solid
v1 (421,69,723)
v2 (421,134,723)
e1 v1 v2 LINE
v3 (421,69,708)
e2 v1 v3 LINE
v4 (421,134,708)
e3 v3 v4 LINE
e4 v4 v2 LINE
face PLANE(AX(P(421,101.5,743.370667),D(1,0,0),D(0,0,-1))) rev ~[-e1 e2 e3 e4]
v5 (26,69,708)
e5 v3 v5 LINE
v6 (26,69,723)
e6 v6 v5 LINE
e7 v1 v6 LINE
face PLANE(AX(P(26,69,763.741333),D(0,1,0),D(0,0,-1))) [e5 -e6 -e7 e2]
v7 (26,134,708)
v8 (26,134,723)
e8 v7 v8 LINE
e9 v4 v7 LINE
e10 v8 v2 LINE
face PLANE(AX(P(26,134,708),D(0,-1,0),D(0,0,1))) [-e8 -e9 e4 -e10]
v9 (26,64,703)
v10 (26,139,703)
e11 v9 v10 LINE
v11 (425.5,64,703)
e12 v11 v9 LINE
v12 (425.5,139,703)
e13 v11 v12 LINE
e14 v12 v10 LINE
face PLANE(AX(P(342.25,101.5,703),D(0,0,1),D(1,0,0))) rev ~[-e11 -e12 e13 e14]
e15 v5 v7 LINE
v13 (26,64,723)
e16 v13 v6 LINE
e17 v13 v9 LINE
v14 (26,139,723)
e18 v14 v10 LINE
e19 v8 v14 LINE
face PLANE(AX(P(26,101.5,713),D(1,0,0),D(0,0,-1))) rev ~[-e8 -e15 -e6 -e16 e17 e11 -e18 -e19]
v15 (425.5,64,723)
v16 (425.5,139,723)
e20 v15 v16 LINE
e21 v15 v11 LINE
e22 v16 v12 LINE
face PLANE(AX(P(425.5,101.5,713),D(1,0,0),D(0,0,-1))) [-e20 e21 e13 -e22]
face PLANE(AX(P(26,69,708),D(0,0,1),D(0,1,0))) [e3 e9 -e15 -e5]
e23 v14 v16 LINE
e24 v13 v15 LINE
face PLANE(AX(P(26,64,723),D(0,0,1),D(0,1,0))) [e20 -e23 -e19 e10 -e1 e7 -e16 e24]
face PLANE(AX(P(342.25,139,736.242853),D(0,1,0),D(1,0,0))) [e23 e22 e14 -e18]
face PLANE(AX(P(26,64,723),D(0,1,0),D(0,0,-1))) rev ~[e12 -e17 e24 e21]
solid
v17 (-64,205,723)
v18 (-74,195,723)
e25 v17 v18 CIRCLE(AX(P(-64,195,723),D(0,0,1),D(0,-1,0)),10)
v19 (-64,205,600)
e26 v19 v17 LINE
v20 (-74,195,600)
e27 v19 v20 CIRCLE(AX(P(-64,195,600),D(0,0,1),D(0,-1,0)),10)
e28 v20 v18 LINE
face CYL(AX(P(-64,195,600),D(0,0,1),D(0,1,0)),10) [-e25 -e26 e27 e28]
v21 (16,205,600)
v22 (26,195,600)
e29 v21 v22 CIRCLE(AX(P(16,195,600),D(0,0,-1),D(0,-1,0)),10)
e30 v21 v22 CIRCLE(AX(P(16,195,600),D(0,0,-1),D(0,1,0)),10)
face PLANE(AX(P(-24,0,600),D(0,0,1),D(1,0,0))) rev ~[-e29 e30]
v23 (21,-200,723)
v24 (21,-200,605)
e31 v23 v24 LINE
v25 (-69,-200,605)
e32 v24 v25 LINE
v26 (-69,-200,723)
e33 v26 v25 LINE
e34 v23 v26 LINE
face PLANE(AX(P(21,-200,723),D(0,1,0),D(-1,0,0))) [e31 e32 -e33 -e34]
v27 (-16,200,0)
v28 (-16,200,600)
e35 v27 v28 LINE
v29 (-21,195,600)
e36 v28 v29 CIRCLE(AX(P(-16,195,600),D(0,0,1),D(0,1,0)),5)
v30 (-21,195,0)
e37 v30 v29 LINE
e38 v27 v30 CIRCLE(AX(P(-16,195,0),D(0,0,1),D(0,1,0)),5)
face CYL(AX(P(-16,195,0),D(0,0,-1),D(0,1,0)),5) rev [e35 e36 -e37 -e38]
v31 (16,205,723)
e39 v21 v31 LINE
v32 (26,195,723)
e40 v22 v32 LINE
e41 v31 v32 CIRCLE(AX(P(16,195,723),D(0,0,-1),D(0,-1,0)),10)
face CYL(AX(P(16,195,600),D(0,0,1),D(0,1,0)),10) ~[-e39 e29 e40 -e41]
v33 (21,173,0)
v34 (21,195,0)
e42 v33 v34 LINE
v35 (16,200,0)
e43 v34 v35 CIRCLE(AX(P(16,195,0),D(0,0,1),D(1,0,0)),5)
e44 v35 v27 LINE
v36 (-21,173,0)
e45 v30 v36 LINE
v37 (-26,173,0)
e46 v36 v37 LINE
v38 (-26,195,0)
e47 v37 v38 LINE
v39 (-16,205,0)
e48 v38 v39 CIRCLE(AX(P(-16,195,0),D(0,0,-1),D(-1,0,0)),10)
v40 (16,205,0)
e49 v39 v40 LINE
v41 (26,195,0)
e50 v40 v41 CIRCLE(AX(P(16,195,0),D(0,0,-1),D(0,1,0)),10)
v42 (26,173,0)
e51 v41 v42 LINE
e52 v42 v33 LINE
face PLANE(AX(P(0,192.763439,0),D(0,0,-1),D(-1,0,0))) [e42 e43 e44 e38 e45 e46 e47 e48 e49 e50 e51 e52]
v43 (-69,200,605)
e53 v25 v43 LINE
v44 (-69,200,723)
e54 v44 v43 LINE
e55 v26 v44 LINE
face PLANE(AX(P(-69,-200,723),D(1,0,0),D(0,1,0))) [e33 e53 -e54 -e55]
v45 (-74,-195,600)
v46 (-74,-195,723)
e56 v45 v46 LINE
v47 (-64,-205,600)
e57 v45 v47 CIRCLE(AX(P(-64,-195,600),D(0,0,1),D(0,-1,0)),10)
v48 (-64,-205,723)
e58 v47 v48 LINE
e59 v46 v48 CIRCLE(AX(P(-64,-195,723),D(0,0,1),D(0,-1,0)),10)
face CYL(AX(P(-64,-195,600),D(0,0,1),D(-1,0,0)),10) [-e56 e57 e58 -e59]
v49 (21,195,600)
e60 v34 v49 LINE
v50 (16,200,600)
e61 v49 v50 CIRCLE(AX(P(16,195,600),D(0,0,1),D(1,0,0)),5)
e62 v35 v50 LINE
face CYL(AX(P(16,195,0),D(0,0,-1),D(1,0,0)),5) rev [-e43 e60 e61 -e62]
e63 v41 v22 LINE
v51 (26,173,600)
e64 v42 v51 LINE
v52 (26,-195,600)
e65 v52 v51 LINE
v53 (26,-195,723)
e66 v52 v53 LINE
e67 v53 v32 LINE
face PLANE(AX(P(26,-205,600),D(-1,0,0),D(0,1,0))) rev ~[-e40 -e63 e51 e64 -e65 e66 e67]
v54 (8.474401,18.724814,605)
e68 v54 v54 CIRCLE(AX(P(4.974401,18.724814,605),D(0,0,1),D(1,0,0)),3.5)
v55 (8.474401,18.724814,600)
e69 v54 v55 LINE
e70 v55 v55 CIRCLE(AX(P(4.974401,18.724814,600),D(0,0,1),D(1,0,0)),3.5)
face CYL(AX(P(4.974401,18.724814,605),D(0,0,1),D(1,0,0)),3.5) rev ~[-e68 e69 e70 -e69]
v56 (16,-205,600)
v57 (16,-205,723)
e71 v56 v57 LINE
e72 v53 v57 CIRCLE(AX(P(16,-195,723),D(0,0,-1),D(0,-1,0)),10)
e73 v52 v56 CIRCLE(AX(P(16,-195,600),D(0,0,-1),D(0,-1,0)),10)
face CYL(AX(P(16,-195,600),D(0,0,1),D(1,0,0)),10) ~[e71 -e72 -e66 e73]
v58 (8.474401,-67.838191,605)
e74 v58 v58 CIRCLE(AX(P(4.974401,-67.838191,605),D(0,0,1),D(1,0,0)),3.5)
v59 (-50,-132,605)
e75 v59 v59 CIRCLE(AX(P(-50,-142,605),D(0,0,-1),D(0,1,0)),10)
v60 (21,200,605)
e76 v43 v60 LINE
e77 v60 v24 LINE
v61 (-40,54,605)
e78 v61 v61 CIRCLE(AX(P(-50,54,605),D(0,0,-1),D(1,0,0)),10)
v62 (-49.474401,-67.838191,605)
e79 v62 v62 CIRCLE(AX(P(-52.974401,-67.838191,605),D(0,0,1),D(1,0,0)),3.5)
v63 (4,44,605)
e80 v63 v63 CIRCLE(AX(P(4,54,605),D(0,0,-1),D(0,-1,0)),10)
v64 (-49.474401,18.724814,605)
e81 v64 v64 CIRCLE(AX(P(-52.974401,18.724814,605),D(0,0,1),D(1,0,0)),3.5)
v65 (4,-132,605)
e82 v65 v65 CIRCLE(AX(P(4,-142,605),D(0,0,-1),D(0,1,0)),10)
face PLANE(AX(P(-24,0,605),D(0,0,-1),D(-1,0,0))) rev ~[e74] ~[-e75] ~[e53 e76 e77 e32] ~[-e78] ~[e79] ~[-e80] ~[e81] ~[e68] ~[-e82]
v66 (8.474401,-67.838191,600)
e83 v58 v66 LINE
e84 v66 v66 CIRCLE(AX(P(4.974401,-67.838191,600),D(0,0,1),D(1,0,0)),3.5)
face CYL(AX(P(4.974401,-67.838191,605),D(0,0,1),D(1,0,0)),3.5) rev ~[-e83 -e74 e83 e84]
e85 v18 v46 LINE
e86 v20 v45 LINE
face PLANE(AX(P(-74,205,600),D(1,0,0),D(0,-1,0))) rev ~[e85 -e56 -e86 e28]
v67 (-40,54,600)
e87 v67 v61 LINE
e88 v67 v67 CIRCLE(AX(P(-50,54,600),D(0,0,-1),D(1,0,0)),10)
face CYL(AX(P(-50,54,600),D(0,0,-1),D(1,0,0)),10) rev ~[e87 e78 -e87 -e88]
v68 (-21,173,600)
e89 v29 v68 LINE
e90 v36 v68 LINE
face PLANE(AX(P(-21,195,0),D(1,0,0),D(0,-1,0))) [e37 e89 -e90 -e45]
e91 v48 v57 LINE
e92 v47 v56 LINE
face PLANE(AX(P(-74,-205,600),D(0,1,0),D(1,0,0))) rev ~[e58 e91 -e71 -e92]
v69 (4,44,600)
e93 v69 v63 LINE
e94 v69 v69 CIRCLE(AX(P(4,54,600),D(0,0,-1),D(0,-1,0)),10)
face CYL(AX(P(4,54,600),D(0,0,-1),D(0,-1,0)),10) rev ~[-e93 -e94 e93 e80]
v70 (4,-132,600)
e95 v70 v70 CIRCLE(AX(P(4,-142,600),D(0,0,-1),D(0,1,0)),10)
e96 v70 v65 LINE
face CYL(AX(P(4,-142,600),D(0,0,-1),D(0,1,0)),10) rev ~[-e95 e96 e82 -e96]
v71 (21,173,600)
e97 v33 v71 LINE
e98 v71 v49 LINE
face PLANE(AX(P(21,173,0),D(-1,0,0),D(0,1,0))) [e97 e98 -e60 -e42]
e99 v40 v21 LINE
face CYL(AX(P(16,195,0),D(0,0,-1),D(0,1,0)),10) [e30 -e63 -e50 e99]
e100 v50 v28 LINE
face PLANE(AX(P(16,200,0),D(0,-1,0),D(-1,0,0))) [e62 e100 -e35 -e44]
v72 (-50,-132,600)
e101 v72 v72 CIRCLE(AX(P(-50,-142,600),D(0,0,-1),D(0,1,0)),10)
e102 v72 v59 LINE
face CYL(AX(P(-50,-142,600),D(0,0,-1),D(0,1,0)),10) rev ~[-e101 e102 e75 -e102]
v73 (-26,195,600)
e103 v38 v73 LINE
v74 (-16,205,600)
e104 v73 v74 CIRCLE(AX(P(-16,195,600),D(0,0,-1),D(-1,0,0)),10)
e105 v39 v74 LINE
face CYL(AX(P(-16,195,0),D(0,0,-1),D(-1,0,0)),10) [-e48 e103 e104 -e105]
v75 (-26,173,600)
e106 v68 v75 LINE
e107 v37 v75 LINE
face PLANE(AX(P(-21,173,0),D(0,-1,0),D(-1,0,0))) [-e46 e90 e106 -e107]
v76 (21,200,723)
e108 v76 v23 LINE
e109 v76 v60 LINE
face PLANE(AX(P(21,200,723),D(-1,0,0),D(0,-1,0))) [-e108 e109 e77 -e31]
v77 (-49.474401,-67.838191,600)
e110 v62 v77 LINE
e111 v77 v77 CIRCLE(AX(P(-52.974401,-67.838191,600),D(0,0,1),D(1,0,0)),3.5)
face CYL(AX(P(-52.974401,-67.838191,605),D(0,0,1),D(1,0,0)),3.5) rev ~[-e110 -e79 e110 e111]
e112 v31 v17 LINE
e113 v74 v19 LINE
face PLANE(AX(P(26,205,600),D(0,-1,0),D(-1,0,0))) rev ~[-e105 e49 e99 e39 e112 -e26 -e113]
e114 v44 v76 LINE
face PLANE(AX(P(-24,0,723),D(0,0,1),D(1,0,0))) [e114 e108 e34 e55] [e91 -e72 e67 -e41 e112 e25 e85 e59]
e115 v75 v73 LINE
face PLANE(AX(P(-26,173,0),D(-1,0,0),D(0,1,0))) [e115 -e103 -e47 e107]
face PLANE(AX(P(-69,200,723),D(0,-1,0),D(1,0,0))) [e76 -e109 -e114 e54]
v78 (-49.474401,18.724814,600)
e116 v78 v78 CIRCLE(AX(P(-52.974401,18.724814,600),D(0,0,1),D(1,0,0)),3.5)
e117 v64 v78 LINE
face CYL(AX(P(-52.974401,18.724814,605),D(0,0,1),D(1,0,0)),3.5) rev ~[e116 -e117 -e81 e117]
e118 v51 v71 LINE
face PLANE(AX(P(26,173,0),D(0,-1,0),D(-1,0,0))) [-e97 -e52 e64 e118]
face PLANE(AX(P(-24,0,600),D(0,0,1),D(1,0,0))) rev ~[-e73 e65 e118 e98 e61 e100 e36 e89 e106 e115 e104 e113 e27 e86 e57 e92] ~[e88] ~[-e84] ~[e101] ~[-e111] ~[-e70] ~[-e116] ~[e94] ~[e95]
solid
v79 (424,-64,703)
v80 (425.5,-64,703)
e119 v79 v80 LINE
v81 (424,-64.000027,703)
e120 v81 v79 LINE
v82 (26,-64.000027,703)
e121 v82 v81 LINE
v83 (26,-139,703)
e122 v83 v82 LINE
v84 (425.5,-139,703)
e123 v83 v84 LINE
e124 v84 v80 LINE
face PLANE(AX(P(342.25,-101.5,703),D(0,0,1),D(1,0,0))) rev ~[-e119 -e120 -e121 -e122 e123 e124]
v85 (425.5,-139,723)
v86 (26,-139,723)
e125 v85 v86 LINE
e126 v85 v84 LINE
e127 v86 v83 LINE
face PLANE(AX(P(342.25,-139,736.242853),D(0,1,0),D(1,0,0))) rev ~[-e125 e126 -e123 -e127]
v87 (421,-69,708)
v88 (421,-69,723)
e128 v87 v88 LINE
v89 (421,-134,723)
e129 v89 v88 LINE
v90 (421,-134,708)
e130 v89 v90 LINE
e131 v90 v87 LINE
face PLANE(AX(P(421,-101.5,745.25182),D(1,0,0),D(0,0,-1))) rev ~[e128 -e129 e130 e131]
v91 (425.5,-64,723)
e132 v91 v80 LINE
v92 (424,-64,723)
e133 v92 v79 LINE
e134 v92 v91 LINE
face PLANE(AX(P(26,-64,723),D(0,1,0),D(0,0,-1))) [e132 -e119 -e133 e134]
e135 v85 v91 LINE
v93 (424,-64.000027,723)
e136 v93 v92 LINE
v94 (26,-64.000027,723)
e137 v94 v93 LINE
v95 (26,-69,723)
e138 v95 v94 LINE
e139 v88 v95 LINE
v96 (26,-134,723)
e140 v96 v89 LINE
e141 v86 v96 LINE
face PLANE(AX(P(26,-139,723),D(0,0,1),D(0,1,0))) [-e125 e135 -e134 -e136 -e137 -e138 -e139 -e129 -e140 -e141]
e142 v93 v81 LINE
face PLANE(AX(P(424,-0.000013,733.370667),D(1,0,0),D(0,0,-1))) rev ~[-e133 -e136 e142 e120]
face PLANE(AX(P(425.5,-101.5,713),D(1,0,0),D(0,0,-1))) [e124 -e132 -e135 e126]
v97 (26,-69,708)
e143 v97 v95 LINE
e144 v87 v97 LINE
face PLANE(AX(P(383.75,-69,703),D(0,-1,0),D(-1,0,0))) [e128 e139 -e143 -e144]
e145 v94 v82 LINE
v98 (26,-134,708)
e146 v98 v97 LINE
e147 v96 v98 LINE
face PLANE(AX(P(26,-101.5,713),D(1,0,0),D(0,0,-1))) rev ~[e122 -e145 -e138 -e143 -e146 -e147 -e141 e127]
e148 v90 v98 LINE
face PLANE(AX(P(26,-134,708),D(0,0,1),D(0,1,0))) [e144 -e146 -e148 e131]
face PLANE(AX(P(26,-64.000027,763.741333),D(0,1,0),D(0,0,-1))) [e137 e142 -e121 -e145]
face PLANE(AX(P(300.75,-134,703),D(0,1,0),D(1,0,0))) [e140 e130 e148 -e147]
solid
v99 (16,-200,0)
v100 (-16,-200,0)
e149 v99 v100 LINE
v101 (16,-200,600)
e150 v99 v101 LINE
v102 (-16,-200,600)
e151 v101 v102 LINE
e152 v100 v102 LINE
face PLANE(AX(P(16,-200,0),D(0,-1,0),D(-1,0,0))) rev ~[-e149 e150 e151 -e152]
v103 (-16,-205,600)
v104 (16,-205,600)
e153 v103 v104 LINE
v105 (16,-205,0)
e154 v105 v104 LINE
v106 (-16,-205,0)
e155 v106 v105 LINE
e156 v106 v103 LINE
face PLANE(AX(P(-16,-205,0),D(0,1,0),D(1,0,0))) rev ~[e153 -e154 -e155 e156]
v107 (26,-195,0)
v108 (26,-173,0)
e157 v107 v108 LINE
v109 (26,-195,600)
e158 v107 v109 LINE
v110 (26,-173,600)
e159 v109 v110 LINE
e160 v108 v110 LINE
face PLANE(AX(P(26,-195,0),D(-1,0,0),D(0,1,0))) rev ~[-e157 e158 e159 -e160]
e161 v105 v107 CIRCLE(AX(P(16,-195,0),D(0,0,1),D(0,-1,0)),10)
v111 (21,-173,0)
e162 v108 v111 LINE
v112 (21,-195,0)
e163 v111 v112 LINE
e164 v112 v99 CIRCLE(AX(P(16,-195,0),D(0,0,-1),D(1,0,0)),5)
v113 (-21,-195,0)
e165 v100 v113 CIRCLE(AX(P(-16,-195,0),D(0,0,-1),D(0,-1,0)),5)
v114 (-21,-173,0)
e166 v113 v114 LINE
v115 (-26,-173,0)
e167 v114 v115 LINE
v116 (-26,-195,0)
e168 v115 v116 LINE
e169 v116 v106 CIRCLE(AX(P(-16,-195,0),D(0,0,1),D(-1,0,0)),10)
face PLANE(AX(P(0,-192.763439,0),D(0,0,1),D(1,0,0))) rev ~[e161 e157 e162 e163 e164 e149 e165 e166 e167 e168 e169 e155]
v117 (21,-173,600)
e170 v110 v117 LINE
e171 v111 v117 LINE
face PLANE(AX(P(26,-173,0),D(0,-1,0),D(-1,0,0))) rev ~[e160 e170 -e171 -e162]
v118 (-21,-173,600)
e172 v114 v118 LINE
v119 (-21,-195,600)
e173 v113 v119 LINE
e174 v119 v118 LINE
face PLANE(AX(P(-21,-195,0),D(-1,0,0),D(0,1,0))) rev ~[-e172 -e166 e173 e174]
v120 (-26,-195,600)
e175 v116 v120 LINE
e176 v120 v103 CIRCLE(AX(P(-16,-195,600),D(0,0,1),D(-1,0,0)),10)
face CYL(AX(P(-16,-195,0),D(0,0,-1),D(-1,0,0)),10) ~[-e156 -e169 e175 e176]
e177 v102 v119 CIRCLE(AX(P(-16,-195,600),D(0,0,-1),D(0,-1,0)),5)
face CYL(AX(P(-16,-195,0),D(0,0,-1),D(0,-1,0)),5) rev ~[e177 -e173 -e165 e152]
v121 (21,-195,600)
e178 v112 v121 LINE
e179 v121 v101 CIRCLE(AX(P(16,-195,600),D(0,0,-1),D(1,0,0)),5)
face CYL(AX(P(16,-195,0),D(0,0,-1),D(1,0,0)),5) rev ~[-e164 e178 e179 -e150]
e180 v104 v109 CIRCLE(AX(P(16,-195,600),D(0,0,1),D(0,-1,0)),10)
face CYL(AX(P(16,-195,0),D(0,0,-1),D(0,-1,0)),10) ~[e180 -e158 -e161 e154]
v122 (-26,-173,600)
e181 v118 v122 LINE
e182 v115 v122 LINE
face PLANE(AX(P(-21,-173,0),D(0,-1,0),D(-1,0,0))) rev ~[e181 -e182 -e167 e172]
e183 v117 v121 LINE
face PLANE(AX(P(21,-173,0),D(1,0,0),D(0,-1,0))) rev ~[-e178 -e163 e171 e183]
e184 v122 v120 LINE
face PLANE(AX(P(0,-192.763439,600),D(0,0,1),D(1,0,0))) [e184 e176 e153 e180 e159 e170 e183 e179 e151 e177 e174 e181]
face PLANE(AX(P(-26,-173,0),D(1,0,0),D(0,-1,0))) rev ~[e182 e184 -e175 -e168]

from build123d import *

# Parameters (mm, degrees)
BOSS_EXTRUDE1_DEPTH      = 600
BOSS_EXTRUDE1_2_DEPTH    = 600
BOSS_EXTRUDE2_DEPTH      = 123.00000000000001
SKETCH44_W               = 20
SKETCH44_H               = 75
BOSS_EXTRUDE16_DEPTH     = 399.5
BOSS_EXTRUDE16_2_DEPTH   = 399.5
BOSS_EXTRUDE17_DEPTH     = 278
CUT_EXTRUDE19_DEPTH      = 123
CUT_EXTRUDE20_DEPTH      = 118.00000000000001
SKETCH47_R               = 10.000000000000037
CUT_EXTRUDE21_DEPTH      = 278.00000000000006
SKETCH54_W               = 15
SKETCH54_H               = 65.00000000000001
SKETCH54_W_2             = 40.741333101316854
SKETCH54_H_2             = 65
CUT_EXTRUDE22_DEPTH      = 395.00000000000006
CUT_EXTRUDE25_DEPTH      = 72.00000000000004
CUT_EXTRUDE31_DEPTH      = 398.0000000000001
FILLET3_R                = 10
SKETCH56_R               = 3.500000000000001
SKETCH56_R_2             = 3.4999999999999996
CUT_EXTRUDE32_DEPTH      = 5
CUT_EXTRUDE33_DEPTH      = 940.5142755101579
CUT_EXTRUDE33_DEPTH_BACK = 940.5142755101579
BOSS_EXTRUDE18_DEPTH     = 5


with BuildPart() as part:
    # Sketch1 → Boss-Extrude1 (new body)
    with BuildSketch(Plane.XY):
        with BuildLine():
            Line((-20.999999999999996, 173.00000000000003), (-26.000000000000014, 173.00000000000003))
            Line((-26.000000000000014, 173.00000000000003), (-26.00000000000001, 195))
            ThreePointArc((-26.00000000000001, 195), (-23.071067811865483, 202.07106781186548), (-16.00000000000001, 205.00000000000003))
            Line((-16.00000000000001, 205.00000000000003), (15.999999999999996, 205.00000000000003))
            ThreePointArc((15.999999999999996, 205.00000000000003), (23.071067811865476, 202.07106781186548), (26.000000000000004, 195))
            Line((26.000000000000004, 195), (26.000000000000007, 173.00000000000003))
            Line((26.000000000000007, 173.00000000000003), (20.999999999999996, 173.00000000000003))
            Line((20.999999999999996, 173.00000000000003), (20.999999999999996, 195))
            ThreePointArc((20.999999999999996, 195), (19.535533905932738, 198.53553390593274), (16, 200))
            Line((16, 200), (-16, 200))
            ThreePointArc((-16, 200), (-19.535533905932738, 198.53553390593274), (-20.999999999999996, 195))
            Line((-20.999999999999996, 195), (-20.999999999999996, 173.00000000000003))
        make_face()
    extrude(amount=BOSS_EXTRUDE1_DEPTH)

    # Sketch2 → Boss-Extrude2 (add)
    with BuildSketch(Plane.XY.offset(600)):
        Polygon((26.000000000000004, 205.00000000000003), (-74.00000000000001, 205.00000000000003), (-73.99999999999996, -205.00000000000003), (26.000000000000053, -205.00000000000003), align=None)
    extrude(amount=BOSS_EXTRUDE2_DEPTH)

    # Sketch37 → Cut-Extrude19 (cut)
    with BuildSketch(Plane(origin=(0, 0, 600), x_dir=(-1, 0, 0), z_dir=(0, 0, -1))):
        with BuildLine():
            ThreePointArc((59.99999999999997, -142), (57.071067811865426, -134.9289321881345), (49.999999999999915, -132))
            Line((49.99999999999997, -132), (49.99999999999997, -142))
            Line((49.99999999999997, -142), (39.99999999999997, -142))
            ThreePointArc((39.99999999999997, -142), (49.99999999999997, -152), (59.99999999999997, -142))
        make_face()
        with BuildLine():
            Line((49.99999999999997, -142), (49.99999999999997, -132))
            ThreePointArc((49.999999999999915, -132), (42.928932188134475, -134.92893218813455), (39.99999999999997, -142))
            Line((39.99999999999997, -142), (49.99999999999997, -142))
        make_face()
        with BuildLine():
            ThreePointArc((5.999999999999988, -142), (3.0710678118654364, -134.9289321881345), (-4.00000000000009, -131.99999999999997))
            Line((-4.000000000000029, -131.99999999999997), (-4.000000000000028, -142))
            Line((-4.000000000000028, -142), (5.999999999999988, -142))
        make_face()
        with BuildLine():
            Line((-4.000000000000028, -142), (-4.000000000000029, -131.99999999999997))
            ThreePointArc((-4.00000000000009, -131.99999999999997), (-11.071067811865493, -149.0710678118655), (5.999999999999988, -142))
            Line((5.999999999999988, -142), (-4.000000000000028, -142))
        make_face()
        with BuildLine():
            ThreePointArc((59.99999999999996, 54.00000000000002), (49.99999999999996, 64.00000000000003), (39.99999999999996, 54.00000000000002))
            Line((39.99999999999996, 54.00000000000002), (49.99999999999996, 54.00000000000002))
            Line((49.99999999999996, 54.00000000000002), (49.99999999999996, 44.00000000000002))
            ThreePointArc((49.9999999999999, 44.00000000000002), (57.07106781186541, 46.928932188134524), (59.99999999999996, 54.00000000000002))
        make_face()
        with BuildLine():
            Line((49.99999999999996, 54.00000000000002), (39.99999999999996, 54.00000000000002))
            ThreePointArc((39.99999999999996, 54.00000000000002), (42.92893218813446, 46.92893218813457), (49.9999999999999, 44.00000000000002))
            Line((49.99999999999996, 44.00000000000002), (49.99999999999996, 54.00000000000002))
        make_face()
        with BuildLine():
            Line((-4.0000000000000515, 44.00000000000001), (-4.000000000000052, 54.00000000000002))
            Line((-4.000000000000052, 54.00000000000002), (5.999999999999964, 54.00000000000002))
            ThreePointArc((5.999999999999964, 54.00000000000002), (-11.071067811865518, 61.071067811865525), (-4.0000000000001075, 44.00000000000001))
        make_face()
        with BuildLine():
            Line((5.999999999999964, 54.00000000000002), (-4.000000000000052, 54.00000000000002))
            Line((-4.000000000000052, 54.00000000000002), (-4.0000000000000515, 44.00000000000001))
            ThreePointArc((-4.0000000000001075, 44.00000000000001), (3.0710678118654133, 46.92893218813452), (5.999999999999964, 54.00000000000002))
        make_face()
    extrude(amount=-CUT_EXTRUDE19_DEPTH, mode=Mode.SUBTRACT)

    # Sketch43 → Cut-Extrude20 (cut)
    with BuildSketch(Plane.XY.offset(723)):
        Polygon((-69, 200), (21.00000000000015, 200), (21.0000000000002, -200), (-68.99999999999994, -200), align=None)
    extrude(amount=-CUT_EXTRUDE20_DEPTH, mode=Mode.SUBTRACT)

    # Fillet3
    fillet3_edges = [part.edges().sort_by_distance(p)[0] for p in [
        (26.000000000000053, -205.00000000000003, 661.5),
        (26.000000000000004, 205.00000000000003, 661.5),
        (-74.00000000000001, 205.00000000000003, 661.5),
        (-73.99999999999996, -205.00000000000003, 661.5),
    ]]
    fillet(fillet3_edges, radius=FILLET3_R)

    # Sketch56 → Cut-Extrude32 (cut)
    with BuildSketch(Plane.XY.offset(605)):
        with Locations((-52.97440145114139, 18.72481387938563)):
            Circle(SKETCH56_R)
        with Locations((4.974401451080079, 18.72481387938569)):
            Circle(SKETCH56_R_2)
        with Locations((-52.97440145114128, -67.83819138977199)):
            Circle(SKETCH56_R)
        with Locations((4.974401451080149, -67.83819138977194)):
            Circle(SKETCH56_R)
    extrude(amount=-CUT_EXTRUDE32_DEPTH, mode=Mode.SUBTRACT)


with BuildPart() as body_2:
    # Sketch1 → Boss-Extrude1 2 (new body)
    with BuildSketch(Plane.XY):
        with BuildLine():
            Line((26.000000000000004, -195), (26.000000000000007, -173.00000000000003))
            Line((26.000000000000007, -173.00000000000003), (20.999999999999996, -173.00000000000003))
            Line((20.999999999999996, -173.00000000000003), (20.999999999999996, -195))
            ThreePointArc((20.999999999999996, -195), (19.535533905932738, -198.53553390593274), (16, -200))
            Line((16, -200), (-16, -200))
            ThreePointArc((-16, -200), (-19.53553390593274, -198.53553390593274), (-20.999999999999996, -195))
            Line((-20.999999999999996, -195), (-20.999999999999996, -173.00000000000003))
            Line((-20.999999999999996, -173.00000000000003), (-26.000000000000014, -173.00000000000003))
            Line((-26.000000000000014, -173.00000000000003), (-26.00000000000001, -195))
            ThreePointArc((-26.00000000000001, -195), (-23.071067811865486, -202.07106781186548), (-16.00000000000001, -205.00000000000003))
            Line((-16.00000000000001, -205.00000000000003), (15.999999999999996, -205.00000000000003))
            ThreePointArc((15.999999999999996, -205.00000000000003), (23.071067811865476, -202.07106781186548), (26.000000000000004, -195))
        make_face()
    extrude(amount=BOSS_EXTRUDE1_2_DEPTH)


with BuildPart() as body_3:
    # Sketch44 → Boss-Extrude16 (new body)
    with BuildSketch(Plane(origin=(26.000000000000032, 4.1e-15, 0), x_dir=(0, 0, -1), z_dir=(1, 0, 0))):
        with Locations((-713, -101.5)):
            Rectangle(SKETCH44_W, SKETCH44_H)
    extrude(amount=BOSS_EXTRUDE16_DEPTH)



with BuildPart() as body_4:
    # Sketch44 → Boss-Extrude16 2 (new body)
    with BuildSketch(Plane(origin=(26.000000000000032, 4.1e-15, 0), x_dir=(0, 0, -1), z_dir=(1, 0, 0))):
        with Locations((-713, 101.5)):
            Rectangle(SKETCH44_W, SKETCH44_H)
    extrude(amount=BOSS_EXTRUDE16_2_DEPTH)


with BuildPart() as body_3_1:
    add(body_3.part)

    add(body_4.part)  # Boss-Extrude17 merges body 4
    # Sketch45 → Boss-Extrude17 (add)
    with BuildSketch(Plane(origin=(0, 139, 0), x_dir=(1, 0, 0), z_dir=(0, 1, 0))):
        with BuildLine():
            Line((310.05762353332216, -763.741333101317), (374.4423764666778, -763.741333101317))
            ThreePointArc((374.4423764666778, -763.741333101317), (380.77084556976007, -729.2229662434094), (357.44868415357087, -703.0000000000001))
            Line((357.44868415357087, -703.0000000000001), (327.05131584642913, -703.0000000000001))
            ThreePointArc((327.05131584642913, -703.0000000000001), (303.72915443024, -729.2229662434092), (310.05762353332216, -763.741333101317))
        make_face()
    extrude(amount=-BOSS_EXTRUDE17_DEPTH)

    # Sketch47 → Cut-Extrude21 (cut)
    with BuildSketch(Plane(origin=(0, 139, 0), x_dir=(1, 0, 0), z_dir=(0, 1, 0))):
        with Locations(Location((342.25, -740, 0), (0, 0, 270))):
            Circle(SKETCH47_R)
    extrude(amount=-CUT_EXTRUDE21_DEPTH, mode=Mode.SUBTRACT)

    # Sketch54 → Cut-Extrude22 (cut)
    with BuildSketch(Plane(origin=(26.000000000000032, 4.1e-15, 0), x_dir=(0, 0, -1), z_dir=(1, 2.3e-16, 0))):
        Polygon((-723, -134.00000000000009), (-723, -69.00000000000009), (-767.5036408731896, -69.00000000000007), (-767.5036408731896, -134.00000000000009), align=None)
        with Locations((-715.5, -101.50000000000009)):
            Rectangle(SKETCH54_W, SKETCH54_H)
        with Locations((-743.3706665506584, 101.49999999999991)):
            Rectangle(SKETCH54_W_2, SKETCH54_H_2)
        with Locations((-715.5, 101.49999999999991)):
            Rectangle(SKETCH54_W, SKETCH54_H_2)
    extrude(amount=CUT_EXTRUDE22_DEPTH, mode=Mode.SUBTRACT)

    # Sketch50 → Cut-Extrude25 (cut)
    with BuildSketch(Plane(origin=(0, 0, 703), x_dir=(-1, 0, 0), z_dir=(0, 0, -1))):
        Polygon((-383.7500000000001, 69.00000000000006), (-300.75, 69.00000000000006), (-300.75, 134.00000000000006), (-383.75000000000006, 134.00000000000006), align=None)
        Polygon((-383.7500000000001, -69.00000000000014), (-300.75, -69.00000000000011), (-300.74999999999994, -134.0000000000001), (-383.75, -134.00000000000017), align=None)
    extrude(amount=-CUT_EXTRUDE25_DEPTH, mode=Mode.SUBTRACT)

    # Sketch55 → Cut-Extrude31 (cut)
    with BuildSketch(Plane(origin=(26.000000000000032, 4.1e-15, 0), x_dir=(0, 0, -1), z_dir=(1, 2.3e-16, 0))):
        Polygon((-703, 63.99999999999991), (-763.741333101317, 63.99999999999989), (-763.741333101317, -64.00002686930748), (-703, -64.00002686930746), align=None)
    extrude(amount=CUT_EXTRUDE31_DEPTH, mode=Mode.SUBTRACT)


with BuildPart() as cut_extrude31_piece_1:
    # of the separate pieces the step leaves, piece 1, a body of its own (cut_extrude31_pieces)
    add(body_3_1.part.solids().sort_by_distance((306.04226602, 69, 723))[0])


with BuildPart() as cut_extrude31_piece_2:
    # of the separate pieces the step leaves, piece 2, a body of its own (cut_extrude31_pieces)
    add(body_3_1.part.solids().sort_by_distance((26, -139, 723))[0])


with BuildPart() as cut_extrude33_tool:
    # Sketch57 → Cut-Extrude33 (new, two sides: drawn at the far end of the back side and taken through both)
    with BuildSketch(Plane.XZ.offset(139).offset(-CUT_EXTRUDE33_DEPTH_BACK)):
        with BuildLine():
            Line((306.04226601953667, 723), (378.45773398046333, 723))
            ThreePointArc((378.45773398046333, 723), (382.05713294138866, 743.923285228811), (374.4423764666778, 763.741333101317))
            Line((374.4423764666778, 763.741333101317), (310.05762353332216, 763.741333101317))
            ThreePointArc((310.05762353332216, 763.741333101317), (302.4428670586113, 743.923285228811), (306.04226601953667, 723))
        make_face()
    extrude(amount=CUT_EXTRUDE33_DEPTH + CUT_EXTRUDE33_DEPTH_BACK)


with BuildPart() as cut_extrude31_piece_1_1:
    add(cut_extrude31_piece_1.part)

    # Cut-Extrude33: cut by cut_extrude33_tool
    add(cut_extrude33_tool.part, mode=Mode.SUBTRACT)



with BuildPart() as cut_extrude31_piece_2_1:
    add(cut_extrude31_piece_2.part)

    # Cut-Extrude33: cut by cut_extrude33_tool
    add(cut_extrude33_tool.part, mode=Mode.SUBTRACT)


with BuildPart() as cut_extrude31_piece_1_2:
    add(cut_extrude31_piece_1_1.part)

    add(cut_extrude31_piece_2_1.part)  # Boss-Extrude18 merges Cut-Extrude31 piece 2
    # Sketch58 → Boss-Extrude18 (add)
    with BuildSketch(Plane(origin=(0, 0, 703), x_dir=(-1, 0, 0), z_dir=(0, 0, -1))):
        Polygon((-383.7500000000001, -69.00000000000014), (-300.75, -69.00000000000011), (-300.74999999999994, -134.0000000000001), (-383.75, -134.00000000000017), align=None)
        Polygon((-383.75000000000006, 134.00000000000006), (-300.75, 134.00000000000006), (-300.75, 69.00000000000006), (-383.7500000000001, 69.00000000000006), align=None)
    extrude(amount=-BOSS_EXTRUDE18_DEPTH)


solid = Compound([part.part, body_2.part, cut_extrude31_piece_1_2.part])
